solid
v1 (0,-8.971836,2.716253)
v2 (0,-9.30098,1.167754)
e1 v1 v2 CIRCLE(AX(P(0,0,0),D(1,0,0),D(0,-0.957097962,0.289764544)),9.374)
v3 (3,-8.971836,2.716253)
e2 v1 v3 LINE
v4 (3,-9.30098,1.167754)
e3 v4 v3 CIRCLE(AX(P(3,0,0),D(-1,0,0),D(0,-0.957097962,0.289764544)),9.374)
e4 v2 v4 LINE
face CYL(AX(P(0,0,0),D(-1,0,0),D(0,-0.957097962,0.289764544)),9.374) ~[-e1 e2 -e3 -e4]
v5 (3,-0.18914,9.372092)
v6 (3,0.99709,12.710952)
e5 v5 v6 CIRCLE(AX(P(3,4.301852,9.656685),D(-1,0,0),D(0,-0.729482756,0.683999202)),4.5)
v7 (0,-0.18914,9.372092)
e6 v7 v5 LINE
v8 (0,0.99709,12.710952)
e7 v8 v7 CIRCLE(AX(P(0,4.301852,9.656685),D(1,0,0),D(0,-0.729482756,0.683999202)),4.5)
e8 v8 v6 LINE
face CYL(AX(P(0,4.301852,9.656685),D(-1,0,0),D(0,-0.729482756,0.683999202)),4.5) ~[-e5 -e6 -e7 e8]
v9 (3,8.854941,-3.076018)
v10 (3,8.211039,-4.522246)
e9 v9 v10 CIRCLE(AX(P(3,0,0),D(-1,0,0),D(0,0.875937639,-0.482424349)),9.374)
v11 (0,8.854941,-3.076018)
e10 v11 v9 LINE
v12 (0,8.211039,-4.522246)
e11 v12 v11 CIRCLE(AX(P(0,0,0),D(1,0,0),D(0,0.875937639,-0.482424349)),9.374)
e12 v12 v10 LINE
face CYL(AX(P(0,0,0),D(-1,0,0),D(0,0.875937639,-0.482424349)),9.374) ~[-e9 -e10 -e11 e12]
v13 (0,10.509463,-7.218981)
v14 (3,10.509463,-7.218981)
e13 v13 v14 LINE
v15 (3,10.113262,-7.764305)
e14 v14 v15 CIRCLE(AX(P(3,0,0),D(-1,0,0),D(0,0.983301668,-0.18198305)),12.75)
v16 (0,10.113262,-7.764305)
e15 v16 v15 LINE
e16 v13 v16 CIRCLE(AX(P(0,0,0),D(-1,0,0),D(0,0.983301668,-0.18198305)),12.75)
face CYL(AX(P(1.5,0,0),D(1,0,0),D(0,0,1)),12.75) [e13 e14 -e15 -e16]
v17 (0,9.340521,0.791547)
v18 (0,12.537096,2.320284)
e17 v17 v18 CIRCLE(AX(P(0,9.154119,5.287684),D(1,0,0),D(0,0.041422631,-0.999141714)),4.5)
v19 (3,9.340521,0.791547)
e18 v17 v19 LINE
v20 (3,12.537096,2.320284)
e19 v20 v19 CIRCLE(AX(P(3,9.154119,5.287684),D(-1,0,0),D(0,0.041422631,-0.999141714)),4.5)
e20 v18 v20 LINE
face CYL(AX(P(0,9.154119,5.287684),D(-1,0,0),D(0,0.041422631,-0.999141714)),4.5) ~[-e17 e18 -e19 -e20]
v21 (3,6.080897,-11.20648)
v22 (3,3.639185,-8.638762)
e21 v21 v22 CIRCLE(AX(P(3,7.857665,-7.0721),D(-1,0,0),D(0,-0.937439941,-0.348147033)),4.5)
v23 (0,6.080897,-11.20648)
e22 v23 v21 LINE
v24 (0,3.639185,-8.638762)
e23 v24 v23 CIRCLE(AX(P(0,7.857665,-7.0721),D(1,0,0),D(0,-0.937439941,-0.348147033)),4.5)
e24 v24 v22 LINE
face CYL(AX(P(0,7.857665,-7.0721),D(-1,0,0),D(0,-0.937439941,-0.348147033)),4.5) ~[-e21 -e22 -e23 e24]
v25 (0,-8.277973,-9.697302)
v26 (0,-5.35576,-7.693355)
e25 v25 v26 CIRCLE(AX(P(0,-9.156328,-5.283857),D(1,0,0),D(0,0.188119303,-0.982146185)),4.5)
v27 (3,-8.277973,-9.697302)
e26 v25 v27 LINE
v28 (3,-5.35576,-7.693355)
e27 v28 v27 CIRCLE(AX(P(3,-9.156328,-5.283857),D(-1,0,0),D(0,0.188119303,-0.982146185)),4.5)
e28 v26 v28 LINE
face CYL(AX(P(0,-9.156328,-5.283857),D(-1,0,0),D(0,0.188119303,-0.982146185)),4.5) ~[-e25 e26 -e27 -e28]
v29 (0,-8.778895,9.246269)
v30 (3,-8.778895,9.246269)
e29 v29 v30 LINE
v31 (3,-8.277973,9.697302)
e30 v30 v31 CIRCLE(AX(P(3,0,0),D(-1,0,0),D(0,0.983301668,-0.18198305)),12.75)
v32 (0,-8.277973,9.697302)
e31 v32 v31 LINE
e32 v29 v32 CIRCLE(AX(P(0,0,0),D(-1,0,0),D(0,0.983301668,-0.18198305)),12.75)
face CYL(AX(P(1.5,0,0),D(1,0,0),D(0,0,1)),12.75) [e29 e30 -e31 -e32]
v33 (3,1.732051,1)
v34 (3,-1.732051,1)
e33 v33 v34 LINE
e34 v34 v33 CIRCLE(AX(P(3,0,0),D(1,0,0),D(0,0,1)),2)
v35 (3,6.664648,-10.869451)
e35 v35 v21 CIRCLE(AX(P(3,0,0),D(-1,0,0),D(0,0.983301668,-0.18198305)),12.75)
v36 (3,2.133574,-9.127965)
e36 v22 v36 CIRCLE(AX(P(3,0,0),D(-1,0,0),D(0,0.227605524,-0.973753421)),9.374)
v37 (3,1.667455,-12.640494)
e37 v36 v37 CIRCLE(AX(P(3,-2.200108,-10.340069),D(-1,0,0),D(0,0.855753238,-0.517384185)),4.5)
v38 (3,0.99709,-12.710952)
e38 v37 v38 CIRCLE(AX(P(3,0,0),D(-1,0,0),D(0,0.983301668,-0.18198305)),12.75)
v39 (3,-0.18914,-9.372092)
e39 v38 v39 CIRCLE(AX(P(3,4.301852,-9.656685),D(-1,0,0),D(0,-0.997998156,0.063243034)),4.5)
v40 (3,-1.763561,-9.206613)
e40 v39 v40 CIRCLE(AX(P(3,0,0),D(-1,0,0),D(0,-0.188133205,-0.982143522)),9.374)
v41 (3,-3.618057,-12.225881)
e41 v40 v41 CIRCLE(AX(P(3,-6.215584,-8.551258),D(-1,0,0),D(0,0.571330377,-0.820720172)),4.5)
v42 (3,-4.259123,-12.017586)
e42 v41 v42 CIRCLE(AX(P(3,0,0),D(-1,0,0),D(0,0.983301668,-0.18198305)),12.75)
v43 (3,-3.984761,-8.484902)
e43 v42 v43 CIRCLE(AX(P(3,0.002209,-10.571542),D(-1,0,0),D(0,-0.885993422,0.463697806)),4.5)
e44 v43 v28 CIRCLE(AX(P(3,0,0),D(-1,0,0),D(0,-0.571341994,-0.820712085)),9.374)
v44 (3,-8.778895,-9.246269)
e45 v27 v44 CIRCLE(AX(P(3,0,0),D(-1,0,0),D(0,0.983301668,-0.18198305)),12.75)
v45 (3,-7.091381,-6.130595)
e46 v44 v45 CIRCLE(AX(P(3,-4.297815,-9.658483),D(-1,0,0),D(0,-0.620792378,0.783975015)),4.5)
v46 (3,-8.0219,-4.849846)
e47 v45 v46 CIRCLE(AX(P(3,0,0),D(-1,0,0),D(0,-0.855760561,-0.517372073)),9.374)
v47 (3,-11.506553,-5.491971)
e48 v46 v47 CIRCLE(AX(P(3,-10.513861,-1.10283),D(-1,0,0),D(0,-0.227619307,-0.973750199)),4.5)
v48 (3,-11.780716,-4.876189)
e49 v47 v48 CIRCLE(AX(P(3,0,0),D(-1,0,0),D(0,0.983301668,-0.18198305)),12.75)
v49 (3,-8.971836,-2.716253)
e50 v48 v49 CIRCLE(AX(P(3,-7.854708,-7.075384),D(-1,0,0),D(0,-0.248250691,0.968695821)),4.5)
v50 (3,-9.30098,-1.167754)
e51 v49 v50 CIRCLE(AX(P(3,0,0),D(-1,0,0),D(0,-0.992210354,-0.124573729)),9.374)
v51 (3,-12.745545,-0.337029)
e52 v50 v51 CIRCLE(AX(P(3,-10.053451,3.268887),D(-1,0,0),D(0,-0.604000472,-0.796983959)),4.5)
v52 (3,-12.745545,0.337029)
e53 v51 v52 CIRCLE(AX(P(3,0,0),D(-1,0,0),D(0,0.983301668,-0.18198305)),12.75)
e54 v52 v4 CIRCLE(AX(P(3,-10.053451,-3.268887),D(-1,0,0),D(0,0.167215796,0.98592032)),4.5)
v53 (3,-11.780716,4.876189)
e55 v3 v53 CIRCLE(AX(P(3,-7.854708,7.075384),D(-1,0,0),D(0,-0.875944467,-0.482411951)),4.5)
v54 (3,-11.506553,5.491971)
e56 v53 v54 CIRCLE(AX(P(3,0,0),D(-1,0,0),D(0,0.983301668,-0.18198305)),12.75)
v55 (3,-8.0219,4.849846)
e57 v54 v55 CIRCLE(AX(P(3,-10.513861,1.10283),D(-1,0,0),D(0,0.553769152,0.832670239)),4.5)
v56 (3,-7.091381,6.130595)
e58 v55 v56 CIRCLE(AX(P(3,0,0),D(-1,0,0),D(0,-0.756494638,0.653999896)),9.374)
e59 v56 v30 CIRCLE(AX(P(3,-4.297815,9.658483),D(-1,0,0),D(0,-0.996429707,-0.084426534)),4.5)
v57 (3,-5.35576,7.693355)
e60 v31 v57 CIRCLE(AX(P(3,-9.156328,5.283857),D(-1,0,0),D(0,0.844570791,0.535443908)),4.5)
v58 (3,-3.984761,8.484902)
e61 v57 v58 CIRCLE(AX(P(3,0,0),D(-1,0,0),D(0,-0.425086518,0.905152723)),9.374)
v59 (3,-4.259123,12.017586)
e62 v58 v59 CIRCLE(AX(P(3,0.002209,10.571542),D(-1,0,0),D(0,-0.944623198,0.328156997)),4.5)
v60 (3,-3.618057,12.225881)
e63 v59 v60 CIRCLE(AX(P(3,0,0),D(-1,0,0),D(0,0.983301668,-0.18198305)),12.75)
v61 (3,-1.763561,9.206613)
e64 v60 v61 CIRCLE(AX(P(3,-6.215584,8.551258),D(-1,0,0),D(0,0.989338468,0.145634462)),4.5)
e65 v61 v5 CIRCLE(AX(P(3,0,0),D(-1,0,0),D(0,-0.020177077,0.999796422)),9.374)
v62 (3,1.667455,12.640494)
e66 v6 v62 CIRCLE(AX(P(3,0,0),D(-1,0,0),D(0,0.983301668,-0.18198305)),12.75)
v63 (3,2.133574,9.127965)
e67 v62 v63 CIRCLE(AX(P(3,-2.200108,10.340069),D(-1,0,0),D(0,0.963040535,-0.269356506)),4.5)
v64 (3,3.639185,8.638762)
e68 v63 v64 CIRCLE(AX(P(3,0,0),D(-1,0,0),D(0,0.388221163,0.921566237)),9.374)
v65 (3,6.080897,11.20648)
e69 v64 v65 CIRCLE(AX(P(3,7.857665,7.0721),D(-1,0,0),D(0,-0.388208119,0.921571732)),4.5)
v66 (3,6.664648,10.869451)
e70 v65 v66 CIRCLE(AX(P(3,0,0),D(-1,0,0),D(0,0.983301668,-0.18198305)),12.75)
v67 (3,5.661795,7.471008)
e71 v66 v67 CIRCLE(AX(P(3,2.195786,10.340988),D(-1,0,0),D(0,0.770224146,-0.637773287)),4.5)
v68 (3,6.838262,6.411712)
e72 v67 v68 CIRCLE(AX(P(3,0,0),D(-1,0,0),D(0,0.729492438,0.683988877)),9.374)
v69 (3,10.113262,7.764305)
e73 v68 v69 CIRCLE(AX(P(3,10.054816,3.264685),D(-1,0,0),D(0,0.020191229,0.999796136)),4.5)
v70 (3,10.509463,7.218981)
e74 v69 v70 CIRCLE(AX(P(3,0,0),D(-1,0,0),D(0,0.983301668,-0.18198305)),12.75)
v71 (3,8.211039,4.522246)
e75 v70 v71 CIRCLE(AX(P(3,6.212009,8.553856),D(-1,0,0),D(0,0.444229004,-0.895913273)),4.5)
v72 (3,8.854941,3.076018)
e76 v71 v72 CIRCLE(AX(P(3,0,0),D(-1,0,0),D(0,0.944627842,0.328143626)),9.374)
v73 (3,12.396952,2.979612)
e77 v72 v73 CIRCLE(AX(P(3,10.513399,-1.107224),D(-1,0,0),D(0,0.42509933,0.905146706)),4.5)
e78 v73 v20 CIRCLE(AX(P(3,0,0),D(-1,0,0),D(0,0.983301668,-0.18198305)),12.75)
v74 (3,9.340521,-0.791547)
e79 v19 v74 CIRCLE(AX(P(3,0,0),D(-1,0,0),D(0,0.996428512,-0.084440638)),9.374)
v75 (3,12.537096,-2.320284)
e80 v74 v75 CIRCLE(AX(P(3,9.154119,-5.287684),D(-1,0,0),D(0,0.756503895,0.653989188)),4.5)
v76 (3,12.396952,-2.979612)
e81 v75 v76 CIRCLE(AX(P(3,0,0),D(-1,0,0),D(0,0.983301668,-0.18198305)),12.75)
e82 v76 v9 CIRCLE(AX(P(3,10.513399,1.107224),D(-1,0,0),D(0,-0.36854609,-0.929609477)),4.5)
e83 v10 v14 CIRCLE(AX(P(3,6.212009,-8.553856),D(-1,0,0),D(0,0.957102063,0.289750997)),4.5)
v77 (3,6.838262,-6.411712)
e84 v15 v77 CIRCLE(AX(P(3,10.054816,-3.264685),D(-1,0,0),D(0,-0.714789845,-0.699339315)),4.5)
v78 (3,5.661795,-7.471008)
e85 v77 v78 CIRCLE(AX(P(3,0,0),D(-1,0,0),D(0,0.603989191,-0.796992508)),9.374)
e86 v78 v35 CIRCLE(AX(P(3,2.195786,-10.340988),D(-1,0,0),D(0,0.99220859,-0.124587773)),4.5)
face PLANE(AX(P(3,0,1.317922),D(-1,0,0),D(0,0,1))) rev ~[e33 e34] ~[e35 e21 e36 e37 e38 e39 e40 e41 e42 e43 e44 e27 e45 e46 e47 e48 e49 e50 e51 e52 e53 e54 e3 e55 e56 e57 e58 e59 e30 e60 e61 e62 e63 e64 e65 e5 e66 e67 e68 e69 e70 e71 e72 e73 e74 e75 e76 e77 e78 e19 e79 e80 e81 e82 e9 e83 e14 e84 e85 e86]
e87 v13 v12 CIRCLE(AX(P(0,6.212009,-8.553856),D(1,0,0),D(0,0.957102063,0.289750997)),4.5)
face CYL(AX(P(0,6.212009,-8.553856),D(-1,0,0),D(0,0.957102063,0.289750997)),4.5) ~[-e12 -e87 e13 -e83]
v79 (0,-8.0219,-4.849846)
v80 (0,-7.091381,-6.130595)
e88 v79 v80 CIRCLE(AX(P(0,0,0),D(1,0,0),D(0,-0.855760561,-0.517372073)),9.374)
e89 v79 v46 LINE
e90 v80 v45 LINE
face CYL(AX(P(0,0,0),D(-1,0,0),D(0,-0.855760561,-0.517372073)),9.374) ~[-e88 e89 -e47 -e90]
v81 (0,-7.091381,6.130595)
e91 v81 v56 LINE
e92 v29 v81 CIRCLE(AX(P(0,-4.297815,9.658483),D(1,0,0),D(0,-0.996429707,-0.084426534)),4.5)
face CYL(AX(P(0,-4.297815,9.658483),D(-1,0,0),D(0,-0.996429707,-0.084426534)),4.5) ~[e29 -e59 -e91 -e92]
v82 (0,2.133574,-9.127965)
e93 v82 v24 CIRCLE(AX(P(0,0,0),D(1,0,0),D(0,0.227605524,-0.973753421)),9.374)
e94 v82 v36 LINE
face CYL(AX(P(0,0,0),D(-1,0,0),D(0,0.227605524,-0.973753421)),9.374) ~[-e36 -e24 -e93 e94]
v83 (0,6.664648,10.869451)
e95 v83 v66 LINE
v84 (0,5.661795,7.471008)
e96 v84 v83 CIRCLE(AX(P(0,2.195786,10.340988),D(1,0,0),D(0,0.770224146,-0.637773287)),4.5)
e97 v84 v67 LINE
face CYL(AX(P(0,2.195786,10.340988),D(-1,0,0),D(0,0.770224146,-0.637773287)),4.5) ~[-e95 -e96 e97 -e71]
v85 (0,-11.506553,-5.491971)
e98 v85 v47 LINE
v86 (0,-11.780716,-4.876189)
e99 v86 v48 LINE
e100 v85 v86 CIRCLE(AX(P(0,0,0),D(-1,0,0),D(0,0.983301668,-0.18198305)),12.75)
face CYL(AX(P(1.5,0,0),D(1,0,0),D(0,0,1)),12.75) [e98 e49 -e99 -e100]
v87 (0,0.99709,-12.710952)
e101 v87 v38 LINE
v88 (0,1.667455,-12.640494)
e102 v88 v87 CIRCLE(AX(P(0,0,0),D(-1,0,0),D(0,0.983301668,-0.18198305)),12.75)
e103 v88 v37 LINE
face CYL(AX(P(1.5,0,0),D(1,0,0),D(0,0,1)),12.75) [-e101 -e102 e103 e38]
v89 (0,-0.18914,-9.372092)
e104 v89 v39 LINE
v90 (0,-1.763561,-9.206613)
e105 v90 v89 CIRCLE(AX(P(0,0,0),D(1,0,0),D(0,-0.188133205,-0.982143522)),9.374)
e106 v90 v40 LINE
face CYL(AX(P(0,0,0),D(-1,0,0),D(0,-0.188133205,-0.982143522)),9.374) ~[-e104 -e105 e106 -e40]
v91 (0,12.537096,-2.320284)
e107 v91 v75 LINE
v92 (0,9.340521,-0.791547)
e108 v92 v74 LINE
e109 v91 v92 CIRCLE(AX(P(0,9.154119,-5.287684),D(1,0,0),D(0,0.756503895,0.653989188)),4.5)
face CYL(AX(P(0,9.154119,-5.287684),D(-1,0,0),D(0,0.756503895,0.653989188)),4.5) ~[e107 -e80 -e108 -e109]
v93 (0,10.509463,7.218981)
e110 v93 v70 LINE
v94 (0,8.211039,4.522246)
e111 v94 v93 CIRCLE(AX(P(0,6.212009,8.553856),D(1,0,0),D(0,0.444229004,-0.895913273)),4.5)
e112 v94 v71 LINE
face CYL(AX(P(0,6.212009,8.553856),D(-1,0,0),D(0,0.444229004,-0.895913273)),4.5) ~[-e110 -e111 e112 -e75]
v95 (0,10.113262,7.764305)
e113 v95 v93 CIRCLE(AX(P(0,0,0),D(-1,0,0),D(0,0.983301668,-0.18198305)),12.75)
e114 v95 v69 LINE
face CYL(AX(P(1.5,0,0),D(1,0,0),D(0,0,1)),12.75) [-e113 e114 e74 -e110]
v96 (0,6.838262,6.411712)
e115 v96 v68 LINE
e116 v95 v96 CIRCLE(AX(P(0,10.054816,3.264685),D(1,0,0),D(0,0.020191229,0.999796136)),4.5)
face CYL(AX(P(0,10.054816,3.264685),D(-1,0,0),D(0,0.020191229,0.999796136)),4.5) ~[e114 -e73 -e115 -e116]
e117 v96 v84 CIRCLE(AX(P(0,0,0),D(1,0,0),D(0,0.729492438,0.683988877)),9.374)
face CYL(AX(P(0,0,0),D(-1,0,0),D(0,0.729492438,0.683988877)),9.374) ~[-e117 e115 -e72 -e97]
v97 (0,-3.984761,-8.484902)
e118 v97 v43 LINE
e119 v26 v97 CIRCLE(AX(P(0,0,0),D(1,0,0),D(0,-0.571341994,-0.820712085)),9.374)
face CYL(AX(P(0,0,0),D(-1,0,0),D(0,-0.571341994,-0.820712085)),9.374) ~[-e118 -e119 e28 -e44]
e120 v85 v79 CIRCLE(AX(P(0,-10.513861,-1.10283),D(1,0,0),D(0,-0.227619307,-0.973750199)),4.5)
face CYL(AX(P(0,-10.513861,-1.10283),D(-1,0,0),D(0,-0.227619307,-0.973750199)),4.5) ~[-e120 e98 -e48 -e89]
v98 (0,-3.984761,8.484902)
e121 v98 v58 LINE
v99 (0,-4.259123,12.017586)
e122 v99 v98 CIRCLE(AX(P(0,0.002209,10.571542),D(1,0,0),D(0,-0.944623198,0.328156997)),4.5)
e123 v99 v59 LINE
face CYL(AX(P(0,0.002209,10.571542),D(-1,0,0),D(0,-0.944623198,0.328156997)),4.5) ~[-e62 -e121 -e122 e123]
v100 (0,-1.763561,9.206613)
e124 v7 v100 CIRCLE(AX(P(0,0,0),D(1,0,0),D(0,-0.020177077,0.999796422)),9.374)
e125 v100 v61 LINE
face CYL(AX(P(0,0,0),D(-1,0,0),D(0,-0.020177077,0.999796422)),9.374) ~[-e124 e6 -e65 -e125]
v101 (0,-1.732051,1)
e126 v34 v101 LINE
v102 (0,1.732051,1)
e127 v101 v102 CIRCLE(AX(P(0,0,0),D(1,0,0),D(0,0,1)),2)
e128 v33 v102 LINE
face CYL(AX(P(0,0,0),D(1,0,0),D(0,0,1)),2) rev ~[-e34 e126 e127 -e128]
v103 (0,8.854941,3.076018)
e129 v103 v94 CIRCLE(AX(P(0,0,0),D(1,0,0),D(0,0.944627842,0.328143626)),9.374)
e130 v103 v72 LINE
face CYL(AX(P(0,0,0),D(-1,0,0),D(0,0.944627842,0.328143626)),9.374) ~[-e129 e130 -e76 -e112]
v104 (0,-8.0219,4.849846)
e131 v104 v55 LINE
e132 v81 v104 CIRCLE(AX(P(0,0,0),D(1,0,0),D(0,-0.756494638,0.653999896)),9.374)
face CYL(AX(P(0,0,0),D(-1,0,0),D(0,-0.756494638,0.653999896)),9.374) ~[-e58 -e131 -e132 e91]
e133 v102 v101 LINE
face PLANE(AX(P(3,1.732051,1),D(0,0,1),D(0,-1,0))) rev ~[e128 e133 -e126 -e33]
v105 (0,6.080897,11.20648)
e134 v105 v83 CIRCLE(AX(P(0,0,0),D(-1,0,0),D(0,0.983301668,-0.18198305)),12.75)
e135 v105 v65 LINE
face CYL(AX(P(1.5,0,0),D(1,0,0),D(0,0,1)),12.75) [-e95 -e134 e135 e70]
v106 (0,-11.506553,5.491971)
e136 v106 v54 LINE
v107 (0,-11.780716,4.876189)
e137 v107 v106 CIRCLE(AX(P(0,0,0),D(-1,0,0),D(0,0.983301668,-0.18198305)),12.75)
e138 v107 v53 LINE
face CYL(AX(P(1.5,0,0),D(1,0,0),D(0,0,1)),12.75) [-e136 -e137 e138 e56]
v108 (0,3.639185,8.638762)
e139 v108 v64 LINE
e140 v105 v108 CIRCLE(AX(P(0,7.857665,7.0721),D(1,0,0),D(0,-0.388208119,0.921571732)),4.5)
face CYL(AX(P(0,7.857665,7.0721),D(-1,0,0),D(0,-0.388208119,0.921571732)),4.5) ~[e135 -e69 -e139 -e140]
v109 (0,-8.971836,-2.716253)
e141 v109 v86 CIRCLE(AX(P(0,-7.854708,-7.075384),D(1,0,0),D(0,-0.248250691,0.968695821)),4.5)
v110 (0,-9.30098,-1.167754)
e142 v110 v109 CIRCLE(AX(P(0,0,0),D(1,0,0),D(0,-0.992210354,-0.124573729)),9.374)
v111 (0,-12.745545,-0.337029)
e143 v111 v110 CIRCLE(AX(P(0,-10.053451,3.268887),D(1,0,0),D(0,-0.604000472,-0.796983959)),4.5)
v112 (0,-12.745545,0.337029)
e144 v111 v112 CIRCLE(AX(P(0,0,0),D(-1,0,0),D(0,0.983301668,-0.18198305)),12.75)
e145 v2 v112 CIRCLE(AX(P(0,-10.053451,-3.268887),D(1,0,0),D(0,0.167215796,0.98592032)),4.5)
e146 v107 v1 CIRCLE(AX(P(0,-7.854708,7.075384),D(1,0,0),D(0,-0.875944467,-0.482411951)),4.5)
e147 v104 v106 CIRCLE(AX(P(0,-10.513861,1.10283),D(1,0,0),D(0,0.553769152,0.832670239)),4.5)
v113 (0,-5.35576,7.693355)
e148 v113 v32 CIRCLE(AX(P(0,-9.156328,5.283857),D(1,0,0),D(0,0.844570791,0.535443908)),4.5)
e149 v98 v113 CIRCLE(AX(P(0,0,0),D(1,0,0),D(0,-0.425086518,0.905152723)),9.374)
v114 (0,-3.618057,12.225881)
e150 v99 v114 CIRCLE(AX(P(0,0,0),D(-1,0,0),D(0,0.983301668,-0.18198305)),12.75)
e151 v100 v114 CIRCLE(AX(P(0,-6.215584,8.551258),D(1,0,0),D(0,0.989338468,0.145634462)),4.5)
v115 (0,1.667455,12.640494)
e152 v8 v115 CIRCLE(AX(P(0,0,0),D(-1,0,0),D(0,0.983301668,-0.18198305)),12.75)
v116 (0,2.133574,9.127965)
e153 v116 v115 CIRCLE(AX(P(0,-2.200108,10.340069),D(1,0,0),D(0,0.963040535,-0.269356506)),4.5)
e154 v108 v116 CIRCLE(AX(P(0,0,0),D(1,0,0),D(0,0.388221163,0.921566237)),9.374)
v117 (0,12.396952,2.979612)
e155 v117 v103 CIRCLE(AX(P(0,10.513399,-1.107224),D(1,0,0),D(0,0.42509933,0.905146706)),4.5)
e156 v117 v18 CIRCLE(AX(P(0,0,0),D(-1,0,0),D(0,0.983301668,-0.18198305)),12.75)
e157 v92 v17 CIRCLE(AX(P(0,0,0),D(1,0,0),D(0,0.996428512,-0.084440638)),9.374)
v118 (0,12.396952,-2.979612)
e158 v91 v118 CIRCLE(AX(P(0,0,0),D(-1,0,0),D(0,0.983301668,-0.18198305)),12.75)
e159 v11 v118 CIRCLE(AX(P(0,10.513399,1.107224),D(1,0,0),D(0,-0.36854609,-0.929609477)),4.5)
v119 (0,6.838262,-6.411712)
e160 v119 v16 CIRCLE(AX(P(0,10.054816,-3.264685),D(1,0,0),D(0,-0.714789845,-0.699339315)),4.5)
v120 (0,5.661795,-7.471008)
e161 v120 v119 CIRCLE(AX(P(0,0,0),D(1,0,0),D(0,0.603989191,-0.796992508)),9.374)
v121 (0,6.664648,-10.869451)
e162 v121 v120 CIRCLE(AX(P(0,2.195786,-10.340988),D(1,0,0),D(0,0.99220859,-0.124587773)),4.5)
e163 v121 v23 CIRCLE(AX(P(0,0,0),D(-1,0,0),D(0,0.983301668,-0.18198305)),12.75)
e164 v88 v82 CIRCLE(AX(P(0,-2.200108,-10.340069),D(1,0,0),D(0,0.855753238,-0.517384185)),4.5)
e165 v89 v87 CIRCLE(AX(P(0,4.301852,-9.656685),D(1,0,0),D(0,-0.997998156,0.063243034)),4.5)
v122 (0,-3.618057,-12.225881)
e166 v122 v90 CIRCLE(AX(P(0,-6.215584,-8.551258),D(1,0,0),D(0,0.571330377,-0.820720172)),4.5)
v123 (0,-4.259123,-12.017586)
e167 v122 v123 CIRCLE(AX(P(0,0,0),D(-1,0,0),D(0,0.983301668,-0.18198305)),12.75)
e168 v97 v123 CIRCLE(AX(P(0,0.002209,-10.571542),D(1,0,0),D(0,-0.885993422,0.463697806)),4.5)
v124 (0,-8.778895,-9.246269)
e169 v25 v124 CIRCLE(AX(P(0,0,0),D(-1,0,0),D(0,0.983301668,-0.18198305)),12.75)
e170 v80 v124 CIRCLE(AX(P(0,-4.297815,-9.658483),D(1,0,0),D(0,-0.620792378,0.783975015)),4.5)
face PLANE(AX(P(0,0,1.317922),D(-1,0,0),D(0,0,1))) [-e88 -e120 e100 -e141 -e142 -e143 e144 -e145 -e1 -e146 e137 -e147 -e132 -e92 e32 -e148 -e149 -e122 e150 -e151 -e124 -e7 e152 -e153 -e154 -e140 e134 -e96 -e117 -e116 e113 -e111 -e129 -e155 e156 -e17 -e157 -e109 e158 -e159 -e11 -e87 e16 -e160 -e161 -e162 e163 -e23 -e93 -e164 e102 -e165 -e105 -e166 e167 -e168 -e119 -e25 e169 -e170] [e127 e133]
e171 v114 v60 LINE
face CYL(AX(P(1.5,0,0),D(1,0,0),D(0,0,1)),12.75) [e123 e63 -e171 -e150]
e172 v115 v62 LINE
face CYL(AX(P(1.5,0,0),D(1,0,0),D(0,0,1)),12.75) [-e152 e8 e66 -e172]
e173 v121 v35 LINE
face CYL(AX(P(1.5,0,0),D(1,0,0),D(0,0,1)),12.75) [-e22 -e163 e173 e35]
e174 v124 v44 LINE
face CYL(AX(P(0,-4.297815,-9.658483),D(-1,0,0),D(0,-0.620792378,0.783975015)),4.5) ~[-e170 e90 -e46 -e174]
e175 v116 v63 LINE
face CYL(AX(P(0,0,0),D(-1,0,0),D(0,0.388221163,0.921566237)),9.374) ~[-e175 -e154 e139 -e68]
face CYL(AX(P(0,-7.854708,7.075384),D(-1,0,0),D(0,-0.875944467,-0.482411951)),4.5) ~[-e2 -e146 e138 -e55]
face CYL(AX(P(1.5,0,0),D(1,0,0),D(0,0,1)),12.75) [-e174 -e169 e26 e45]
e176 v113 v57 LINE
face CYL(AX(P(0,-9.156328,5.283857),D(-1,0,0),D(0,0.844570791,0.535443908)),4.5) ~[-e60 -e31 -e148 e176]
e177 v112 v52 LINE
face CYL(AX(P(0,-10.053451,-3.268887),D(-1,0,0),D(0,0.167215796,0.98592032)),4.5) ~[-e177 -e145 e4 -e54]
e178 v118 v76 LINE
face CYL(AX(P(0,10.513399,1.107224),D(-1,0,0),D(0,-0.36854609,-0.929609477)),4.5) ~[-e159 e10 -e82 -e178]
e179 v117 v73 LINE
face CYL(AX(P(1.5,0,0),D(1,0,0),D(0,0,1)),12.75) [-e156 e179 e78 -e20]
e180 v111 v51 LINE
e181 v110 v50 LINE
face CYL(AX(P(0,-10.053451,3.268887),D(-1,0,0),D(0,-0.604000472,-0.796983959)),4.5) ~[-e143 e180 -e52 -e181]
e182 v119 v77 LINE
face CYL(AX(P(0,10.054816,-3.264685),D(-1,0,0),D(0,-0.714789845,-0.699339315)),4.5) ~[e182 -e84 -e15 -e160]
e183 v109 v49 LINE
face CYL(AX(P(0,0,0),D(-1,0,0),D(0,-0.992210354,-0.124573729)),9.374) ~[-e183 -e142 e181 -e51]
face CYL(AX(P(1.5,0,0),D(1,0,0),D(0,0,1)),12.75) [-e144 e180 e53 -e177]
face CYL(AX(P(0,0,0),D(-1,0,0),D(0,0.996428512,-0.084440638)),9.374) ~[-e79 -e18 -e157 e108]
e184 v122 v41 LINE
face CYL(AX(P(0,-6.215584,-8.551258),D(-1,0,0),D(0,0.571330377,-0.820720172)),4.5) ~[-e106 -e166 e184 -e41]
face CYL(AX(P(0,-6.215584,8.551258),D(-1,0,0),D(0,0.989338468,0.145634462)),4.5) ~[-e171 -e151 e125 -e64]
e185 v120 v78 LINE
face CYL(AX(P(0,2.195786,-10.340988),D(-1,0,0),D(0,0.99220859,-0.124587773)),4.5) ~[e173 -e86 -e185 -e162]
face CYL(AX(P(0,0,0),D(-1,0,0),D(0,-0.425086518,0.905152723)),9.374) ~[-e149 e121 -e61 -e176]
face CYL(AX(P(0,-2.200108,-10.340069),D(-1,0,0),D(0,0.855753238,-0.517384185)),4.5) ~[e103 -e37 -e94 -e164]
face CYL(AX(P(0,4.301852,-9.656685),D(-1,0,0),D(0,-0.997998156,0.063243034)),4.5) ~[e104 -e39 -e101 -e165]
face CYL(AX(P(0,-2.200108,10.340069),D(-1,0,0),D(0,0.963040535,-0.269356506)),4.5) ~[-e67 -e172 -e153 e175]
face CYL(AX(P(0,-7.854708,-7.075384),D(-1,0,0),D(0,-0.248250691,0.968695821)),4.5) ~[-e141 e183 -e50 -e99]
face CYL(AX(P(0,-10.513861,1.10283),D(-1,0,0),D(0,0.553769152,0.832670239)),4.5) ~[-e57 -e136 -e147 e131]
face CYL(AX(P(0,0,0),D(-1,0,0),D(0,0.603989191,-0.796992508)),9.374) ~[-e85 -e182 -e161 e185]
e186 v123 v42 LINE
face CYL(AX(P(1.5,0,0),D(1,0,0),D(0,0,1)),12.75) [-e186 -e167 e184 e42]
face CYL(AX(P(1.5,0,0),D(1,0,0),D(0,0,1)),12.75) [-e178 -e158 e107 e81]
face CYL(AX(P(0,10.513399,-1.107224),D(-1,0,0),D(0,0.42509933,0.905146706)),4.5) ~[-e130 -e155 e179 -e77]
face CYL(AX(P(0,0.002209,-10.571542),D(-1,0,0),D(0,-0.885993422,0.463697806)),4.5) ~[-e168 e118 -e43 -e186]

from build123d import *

# Parameters (mm, degrees)
BASPROSKE_W        = 3
BASPROSKE_H        = 12.75
TOOTHCUT_DEPTH     = 19.27908641
TEETHCUTS_COUNT    = 15
TEETHCUTS_ANGLE    = 336
BORSKE_R           = 2
BORE_DEPTH         = 50.0000508
BOSS_EXTRU_1_START = -3
BOSS_EXTRU_1_DEPTH = 3


with BuildPart() as part:
    # BasProSke → Base-Revolve (revolve)
    with BuildSketch(Plane(origin=(0, 0, 0), x_dir=(1, 0, 0), z_dir=(0, 1, 0)), mode=Mode.PRIVATE) as base_revolve_sk:
        with Locations((1.5, 6.375)):
            Rectangle(BASPROSKE_W, BASPROSKE_H)
    revolve(base_revolve_sk.sketch.rotate(Axis((-10, 0, 0), (1, 0, 0)), 180), axis=Axis((-10, 0, 0), (1, 0, 0)))

    # TooCutSke → ToothCut (cut, through all)
    with BuildSketch(Plane(origin=(0, 0, 0), x_dir=(0, 0, -1), z_dir=(1, 0, 0))):
        with BuildLine():
            ThreePointArc((0.791546546, 9.340520867), (0, 9.374), (-0.791546546, 9.340520867))
            ThreePointArc((-0.791546546, 9.340520867), (-1.235070734, 11.110218102), (-2.344732916, 12.558386549))
            ThreePointArc((-2.344732916, 12.558386549), (0, 12.7754), (2.344732916, 12.558386549))
            ThreePointArc((2.344732916, 12.558386549), (1.235070734, 11.110218102), (0.791546546, 9.340520867))
        make_face()
    toothcut = extrude(amount=TOOTHCUT_DEPTH, mode=Mode.SUBTRACT)

    # TeethCuts: ToothCut ×15 about axis
    teethcuts_axis = Axis((-10, 0, 0), (1, 0, 0))
    for i in range(1, TEETHCUTS_COUNT):
        add(toothcut.rotate(teethcuts_axis, i * TEETHCUTS_ANGLE / (TEETHCUTS_COUNT - 1)), mode=Mode.SUBTRACT)

    # BorSke → Bore (cut, symmetric)
    with BuildSketch(Plane(origin=(0, 0, 0), x_dir=(0, 0, -1), z_dir=(1, 0, 0))):
        with Locations(Location((0, 0, 0), (0, 0, 180))):
            Circle(BORSKE_R)
    extrude(amount=BORE_DEPTH, both=True, mode=Mode.SUBTRACT)

    # Esquisse1 → Boss.-Extru.1 (add)
    with BuildSketch(Plane.ZY.offset(BOSS_EXTRU_1_START)):
        with BuildLine():
            Line((1, 1.732050808), (1, -1.732050808))
            ThreePointArc((1, -1.732050808), (2, 0), (1, 1.732050808))
        make_face()
    extrude(amount=BOSS_EXTRU_1_DEPTH)


solid = part.part
